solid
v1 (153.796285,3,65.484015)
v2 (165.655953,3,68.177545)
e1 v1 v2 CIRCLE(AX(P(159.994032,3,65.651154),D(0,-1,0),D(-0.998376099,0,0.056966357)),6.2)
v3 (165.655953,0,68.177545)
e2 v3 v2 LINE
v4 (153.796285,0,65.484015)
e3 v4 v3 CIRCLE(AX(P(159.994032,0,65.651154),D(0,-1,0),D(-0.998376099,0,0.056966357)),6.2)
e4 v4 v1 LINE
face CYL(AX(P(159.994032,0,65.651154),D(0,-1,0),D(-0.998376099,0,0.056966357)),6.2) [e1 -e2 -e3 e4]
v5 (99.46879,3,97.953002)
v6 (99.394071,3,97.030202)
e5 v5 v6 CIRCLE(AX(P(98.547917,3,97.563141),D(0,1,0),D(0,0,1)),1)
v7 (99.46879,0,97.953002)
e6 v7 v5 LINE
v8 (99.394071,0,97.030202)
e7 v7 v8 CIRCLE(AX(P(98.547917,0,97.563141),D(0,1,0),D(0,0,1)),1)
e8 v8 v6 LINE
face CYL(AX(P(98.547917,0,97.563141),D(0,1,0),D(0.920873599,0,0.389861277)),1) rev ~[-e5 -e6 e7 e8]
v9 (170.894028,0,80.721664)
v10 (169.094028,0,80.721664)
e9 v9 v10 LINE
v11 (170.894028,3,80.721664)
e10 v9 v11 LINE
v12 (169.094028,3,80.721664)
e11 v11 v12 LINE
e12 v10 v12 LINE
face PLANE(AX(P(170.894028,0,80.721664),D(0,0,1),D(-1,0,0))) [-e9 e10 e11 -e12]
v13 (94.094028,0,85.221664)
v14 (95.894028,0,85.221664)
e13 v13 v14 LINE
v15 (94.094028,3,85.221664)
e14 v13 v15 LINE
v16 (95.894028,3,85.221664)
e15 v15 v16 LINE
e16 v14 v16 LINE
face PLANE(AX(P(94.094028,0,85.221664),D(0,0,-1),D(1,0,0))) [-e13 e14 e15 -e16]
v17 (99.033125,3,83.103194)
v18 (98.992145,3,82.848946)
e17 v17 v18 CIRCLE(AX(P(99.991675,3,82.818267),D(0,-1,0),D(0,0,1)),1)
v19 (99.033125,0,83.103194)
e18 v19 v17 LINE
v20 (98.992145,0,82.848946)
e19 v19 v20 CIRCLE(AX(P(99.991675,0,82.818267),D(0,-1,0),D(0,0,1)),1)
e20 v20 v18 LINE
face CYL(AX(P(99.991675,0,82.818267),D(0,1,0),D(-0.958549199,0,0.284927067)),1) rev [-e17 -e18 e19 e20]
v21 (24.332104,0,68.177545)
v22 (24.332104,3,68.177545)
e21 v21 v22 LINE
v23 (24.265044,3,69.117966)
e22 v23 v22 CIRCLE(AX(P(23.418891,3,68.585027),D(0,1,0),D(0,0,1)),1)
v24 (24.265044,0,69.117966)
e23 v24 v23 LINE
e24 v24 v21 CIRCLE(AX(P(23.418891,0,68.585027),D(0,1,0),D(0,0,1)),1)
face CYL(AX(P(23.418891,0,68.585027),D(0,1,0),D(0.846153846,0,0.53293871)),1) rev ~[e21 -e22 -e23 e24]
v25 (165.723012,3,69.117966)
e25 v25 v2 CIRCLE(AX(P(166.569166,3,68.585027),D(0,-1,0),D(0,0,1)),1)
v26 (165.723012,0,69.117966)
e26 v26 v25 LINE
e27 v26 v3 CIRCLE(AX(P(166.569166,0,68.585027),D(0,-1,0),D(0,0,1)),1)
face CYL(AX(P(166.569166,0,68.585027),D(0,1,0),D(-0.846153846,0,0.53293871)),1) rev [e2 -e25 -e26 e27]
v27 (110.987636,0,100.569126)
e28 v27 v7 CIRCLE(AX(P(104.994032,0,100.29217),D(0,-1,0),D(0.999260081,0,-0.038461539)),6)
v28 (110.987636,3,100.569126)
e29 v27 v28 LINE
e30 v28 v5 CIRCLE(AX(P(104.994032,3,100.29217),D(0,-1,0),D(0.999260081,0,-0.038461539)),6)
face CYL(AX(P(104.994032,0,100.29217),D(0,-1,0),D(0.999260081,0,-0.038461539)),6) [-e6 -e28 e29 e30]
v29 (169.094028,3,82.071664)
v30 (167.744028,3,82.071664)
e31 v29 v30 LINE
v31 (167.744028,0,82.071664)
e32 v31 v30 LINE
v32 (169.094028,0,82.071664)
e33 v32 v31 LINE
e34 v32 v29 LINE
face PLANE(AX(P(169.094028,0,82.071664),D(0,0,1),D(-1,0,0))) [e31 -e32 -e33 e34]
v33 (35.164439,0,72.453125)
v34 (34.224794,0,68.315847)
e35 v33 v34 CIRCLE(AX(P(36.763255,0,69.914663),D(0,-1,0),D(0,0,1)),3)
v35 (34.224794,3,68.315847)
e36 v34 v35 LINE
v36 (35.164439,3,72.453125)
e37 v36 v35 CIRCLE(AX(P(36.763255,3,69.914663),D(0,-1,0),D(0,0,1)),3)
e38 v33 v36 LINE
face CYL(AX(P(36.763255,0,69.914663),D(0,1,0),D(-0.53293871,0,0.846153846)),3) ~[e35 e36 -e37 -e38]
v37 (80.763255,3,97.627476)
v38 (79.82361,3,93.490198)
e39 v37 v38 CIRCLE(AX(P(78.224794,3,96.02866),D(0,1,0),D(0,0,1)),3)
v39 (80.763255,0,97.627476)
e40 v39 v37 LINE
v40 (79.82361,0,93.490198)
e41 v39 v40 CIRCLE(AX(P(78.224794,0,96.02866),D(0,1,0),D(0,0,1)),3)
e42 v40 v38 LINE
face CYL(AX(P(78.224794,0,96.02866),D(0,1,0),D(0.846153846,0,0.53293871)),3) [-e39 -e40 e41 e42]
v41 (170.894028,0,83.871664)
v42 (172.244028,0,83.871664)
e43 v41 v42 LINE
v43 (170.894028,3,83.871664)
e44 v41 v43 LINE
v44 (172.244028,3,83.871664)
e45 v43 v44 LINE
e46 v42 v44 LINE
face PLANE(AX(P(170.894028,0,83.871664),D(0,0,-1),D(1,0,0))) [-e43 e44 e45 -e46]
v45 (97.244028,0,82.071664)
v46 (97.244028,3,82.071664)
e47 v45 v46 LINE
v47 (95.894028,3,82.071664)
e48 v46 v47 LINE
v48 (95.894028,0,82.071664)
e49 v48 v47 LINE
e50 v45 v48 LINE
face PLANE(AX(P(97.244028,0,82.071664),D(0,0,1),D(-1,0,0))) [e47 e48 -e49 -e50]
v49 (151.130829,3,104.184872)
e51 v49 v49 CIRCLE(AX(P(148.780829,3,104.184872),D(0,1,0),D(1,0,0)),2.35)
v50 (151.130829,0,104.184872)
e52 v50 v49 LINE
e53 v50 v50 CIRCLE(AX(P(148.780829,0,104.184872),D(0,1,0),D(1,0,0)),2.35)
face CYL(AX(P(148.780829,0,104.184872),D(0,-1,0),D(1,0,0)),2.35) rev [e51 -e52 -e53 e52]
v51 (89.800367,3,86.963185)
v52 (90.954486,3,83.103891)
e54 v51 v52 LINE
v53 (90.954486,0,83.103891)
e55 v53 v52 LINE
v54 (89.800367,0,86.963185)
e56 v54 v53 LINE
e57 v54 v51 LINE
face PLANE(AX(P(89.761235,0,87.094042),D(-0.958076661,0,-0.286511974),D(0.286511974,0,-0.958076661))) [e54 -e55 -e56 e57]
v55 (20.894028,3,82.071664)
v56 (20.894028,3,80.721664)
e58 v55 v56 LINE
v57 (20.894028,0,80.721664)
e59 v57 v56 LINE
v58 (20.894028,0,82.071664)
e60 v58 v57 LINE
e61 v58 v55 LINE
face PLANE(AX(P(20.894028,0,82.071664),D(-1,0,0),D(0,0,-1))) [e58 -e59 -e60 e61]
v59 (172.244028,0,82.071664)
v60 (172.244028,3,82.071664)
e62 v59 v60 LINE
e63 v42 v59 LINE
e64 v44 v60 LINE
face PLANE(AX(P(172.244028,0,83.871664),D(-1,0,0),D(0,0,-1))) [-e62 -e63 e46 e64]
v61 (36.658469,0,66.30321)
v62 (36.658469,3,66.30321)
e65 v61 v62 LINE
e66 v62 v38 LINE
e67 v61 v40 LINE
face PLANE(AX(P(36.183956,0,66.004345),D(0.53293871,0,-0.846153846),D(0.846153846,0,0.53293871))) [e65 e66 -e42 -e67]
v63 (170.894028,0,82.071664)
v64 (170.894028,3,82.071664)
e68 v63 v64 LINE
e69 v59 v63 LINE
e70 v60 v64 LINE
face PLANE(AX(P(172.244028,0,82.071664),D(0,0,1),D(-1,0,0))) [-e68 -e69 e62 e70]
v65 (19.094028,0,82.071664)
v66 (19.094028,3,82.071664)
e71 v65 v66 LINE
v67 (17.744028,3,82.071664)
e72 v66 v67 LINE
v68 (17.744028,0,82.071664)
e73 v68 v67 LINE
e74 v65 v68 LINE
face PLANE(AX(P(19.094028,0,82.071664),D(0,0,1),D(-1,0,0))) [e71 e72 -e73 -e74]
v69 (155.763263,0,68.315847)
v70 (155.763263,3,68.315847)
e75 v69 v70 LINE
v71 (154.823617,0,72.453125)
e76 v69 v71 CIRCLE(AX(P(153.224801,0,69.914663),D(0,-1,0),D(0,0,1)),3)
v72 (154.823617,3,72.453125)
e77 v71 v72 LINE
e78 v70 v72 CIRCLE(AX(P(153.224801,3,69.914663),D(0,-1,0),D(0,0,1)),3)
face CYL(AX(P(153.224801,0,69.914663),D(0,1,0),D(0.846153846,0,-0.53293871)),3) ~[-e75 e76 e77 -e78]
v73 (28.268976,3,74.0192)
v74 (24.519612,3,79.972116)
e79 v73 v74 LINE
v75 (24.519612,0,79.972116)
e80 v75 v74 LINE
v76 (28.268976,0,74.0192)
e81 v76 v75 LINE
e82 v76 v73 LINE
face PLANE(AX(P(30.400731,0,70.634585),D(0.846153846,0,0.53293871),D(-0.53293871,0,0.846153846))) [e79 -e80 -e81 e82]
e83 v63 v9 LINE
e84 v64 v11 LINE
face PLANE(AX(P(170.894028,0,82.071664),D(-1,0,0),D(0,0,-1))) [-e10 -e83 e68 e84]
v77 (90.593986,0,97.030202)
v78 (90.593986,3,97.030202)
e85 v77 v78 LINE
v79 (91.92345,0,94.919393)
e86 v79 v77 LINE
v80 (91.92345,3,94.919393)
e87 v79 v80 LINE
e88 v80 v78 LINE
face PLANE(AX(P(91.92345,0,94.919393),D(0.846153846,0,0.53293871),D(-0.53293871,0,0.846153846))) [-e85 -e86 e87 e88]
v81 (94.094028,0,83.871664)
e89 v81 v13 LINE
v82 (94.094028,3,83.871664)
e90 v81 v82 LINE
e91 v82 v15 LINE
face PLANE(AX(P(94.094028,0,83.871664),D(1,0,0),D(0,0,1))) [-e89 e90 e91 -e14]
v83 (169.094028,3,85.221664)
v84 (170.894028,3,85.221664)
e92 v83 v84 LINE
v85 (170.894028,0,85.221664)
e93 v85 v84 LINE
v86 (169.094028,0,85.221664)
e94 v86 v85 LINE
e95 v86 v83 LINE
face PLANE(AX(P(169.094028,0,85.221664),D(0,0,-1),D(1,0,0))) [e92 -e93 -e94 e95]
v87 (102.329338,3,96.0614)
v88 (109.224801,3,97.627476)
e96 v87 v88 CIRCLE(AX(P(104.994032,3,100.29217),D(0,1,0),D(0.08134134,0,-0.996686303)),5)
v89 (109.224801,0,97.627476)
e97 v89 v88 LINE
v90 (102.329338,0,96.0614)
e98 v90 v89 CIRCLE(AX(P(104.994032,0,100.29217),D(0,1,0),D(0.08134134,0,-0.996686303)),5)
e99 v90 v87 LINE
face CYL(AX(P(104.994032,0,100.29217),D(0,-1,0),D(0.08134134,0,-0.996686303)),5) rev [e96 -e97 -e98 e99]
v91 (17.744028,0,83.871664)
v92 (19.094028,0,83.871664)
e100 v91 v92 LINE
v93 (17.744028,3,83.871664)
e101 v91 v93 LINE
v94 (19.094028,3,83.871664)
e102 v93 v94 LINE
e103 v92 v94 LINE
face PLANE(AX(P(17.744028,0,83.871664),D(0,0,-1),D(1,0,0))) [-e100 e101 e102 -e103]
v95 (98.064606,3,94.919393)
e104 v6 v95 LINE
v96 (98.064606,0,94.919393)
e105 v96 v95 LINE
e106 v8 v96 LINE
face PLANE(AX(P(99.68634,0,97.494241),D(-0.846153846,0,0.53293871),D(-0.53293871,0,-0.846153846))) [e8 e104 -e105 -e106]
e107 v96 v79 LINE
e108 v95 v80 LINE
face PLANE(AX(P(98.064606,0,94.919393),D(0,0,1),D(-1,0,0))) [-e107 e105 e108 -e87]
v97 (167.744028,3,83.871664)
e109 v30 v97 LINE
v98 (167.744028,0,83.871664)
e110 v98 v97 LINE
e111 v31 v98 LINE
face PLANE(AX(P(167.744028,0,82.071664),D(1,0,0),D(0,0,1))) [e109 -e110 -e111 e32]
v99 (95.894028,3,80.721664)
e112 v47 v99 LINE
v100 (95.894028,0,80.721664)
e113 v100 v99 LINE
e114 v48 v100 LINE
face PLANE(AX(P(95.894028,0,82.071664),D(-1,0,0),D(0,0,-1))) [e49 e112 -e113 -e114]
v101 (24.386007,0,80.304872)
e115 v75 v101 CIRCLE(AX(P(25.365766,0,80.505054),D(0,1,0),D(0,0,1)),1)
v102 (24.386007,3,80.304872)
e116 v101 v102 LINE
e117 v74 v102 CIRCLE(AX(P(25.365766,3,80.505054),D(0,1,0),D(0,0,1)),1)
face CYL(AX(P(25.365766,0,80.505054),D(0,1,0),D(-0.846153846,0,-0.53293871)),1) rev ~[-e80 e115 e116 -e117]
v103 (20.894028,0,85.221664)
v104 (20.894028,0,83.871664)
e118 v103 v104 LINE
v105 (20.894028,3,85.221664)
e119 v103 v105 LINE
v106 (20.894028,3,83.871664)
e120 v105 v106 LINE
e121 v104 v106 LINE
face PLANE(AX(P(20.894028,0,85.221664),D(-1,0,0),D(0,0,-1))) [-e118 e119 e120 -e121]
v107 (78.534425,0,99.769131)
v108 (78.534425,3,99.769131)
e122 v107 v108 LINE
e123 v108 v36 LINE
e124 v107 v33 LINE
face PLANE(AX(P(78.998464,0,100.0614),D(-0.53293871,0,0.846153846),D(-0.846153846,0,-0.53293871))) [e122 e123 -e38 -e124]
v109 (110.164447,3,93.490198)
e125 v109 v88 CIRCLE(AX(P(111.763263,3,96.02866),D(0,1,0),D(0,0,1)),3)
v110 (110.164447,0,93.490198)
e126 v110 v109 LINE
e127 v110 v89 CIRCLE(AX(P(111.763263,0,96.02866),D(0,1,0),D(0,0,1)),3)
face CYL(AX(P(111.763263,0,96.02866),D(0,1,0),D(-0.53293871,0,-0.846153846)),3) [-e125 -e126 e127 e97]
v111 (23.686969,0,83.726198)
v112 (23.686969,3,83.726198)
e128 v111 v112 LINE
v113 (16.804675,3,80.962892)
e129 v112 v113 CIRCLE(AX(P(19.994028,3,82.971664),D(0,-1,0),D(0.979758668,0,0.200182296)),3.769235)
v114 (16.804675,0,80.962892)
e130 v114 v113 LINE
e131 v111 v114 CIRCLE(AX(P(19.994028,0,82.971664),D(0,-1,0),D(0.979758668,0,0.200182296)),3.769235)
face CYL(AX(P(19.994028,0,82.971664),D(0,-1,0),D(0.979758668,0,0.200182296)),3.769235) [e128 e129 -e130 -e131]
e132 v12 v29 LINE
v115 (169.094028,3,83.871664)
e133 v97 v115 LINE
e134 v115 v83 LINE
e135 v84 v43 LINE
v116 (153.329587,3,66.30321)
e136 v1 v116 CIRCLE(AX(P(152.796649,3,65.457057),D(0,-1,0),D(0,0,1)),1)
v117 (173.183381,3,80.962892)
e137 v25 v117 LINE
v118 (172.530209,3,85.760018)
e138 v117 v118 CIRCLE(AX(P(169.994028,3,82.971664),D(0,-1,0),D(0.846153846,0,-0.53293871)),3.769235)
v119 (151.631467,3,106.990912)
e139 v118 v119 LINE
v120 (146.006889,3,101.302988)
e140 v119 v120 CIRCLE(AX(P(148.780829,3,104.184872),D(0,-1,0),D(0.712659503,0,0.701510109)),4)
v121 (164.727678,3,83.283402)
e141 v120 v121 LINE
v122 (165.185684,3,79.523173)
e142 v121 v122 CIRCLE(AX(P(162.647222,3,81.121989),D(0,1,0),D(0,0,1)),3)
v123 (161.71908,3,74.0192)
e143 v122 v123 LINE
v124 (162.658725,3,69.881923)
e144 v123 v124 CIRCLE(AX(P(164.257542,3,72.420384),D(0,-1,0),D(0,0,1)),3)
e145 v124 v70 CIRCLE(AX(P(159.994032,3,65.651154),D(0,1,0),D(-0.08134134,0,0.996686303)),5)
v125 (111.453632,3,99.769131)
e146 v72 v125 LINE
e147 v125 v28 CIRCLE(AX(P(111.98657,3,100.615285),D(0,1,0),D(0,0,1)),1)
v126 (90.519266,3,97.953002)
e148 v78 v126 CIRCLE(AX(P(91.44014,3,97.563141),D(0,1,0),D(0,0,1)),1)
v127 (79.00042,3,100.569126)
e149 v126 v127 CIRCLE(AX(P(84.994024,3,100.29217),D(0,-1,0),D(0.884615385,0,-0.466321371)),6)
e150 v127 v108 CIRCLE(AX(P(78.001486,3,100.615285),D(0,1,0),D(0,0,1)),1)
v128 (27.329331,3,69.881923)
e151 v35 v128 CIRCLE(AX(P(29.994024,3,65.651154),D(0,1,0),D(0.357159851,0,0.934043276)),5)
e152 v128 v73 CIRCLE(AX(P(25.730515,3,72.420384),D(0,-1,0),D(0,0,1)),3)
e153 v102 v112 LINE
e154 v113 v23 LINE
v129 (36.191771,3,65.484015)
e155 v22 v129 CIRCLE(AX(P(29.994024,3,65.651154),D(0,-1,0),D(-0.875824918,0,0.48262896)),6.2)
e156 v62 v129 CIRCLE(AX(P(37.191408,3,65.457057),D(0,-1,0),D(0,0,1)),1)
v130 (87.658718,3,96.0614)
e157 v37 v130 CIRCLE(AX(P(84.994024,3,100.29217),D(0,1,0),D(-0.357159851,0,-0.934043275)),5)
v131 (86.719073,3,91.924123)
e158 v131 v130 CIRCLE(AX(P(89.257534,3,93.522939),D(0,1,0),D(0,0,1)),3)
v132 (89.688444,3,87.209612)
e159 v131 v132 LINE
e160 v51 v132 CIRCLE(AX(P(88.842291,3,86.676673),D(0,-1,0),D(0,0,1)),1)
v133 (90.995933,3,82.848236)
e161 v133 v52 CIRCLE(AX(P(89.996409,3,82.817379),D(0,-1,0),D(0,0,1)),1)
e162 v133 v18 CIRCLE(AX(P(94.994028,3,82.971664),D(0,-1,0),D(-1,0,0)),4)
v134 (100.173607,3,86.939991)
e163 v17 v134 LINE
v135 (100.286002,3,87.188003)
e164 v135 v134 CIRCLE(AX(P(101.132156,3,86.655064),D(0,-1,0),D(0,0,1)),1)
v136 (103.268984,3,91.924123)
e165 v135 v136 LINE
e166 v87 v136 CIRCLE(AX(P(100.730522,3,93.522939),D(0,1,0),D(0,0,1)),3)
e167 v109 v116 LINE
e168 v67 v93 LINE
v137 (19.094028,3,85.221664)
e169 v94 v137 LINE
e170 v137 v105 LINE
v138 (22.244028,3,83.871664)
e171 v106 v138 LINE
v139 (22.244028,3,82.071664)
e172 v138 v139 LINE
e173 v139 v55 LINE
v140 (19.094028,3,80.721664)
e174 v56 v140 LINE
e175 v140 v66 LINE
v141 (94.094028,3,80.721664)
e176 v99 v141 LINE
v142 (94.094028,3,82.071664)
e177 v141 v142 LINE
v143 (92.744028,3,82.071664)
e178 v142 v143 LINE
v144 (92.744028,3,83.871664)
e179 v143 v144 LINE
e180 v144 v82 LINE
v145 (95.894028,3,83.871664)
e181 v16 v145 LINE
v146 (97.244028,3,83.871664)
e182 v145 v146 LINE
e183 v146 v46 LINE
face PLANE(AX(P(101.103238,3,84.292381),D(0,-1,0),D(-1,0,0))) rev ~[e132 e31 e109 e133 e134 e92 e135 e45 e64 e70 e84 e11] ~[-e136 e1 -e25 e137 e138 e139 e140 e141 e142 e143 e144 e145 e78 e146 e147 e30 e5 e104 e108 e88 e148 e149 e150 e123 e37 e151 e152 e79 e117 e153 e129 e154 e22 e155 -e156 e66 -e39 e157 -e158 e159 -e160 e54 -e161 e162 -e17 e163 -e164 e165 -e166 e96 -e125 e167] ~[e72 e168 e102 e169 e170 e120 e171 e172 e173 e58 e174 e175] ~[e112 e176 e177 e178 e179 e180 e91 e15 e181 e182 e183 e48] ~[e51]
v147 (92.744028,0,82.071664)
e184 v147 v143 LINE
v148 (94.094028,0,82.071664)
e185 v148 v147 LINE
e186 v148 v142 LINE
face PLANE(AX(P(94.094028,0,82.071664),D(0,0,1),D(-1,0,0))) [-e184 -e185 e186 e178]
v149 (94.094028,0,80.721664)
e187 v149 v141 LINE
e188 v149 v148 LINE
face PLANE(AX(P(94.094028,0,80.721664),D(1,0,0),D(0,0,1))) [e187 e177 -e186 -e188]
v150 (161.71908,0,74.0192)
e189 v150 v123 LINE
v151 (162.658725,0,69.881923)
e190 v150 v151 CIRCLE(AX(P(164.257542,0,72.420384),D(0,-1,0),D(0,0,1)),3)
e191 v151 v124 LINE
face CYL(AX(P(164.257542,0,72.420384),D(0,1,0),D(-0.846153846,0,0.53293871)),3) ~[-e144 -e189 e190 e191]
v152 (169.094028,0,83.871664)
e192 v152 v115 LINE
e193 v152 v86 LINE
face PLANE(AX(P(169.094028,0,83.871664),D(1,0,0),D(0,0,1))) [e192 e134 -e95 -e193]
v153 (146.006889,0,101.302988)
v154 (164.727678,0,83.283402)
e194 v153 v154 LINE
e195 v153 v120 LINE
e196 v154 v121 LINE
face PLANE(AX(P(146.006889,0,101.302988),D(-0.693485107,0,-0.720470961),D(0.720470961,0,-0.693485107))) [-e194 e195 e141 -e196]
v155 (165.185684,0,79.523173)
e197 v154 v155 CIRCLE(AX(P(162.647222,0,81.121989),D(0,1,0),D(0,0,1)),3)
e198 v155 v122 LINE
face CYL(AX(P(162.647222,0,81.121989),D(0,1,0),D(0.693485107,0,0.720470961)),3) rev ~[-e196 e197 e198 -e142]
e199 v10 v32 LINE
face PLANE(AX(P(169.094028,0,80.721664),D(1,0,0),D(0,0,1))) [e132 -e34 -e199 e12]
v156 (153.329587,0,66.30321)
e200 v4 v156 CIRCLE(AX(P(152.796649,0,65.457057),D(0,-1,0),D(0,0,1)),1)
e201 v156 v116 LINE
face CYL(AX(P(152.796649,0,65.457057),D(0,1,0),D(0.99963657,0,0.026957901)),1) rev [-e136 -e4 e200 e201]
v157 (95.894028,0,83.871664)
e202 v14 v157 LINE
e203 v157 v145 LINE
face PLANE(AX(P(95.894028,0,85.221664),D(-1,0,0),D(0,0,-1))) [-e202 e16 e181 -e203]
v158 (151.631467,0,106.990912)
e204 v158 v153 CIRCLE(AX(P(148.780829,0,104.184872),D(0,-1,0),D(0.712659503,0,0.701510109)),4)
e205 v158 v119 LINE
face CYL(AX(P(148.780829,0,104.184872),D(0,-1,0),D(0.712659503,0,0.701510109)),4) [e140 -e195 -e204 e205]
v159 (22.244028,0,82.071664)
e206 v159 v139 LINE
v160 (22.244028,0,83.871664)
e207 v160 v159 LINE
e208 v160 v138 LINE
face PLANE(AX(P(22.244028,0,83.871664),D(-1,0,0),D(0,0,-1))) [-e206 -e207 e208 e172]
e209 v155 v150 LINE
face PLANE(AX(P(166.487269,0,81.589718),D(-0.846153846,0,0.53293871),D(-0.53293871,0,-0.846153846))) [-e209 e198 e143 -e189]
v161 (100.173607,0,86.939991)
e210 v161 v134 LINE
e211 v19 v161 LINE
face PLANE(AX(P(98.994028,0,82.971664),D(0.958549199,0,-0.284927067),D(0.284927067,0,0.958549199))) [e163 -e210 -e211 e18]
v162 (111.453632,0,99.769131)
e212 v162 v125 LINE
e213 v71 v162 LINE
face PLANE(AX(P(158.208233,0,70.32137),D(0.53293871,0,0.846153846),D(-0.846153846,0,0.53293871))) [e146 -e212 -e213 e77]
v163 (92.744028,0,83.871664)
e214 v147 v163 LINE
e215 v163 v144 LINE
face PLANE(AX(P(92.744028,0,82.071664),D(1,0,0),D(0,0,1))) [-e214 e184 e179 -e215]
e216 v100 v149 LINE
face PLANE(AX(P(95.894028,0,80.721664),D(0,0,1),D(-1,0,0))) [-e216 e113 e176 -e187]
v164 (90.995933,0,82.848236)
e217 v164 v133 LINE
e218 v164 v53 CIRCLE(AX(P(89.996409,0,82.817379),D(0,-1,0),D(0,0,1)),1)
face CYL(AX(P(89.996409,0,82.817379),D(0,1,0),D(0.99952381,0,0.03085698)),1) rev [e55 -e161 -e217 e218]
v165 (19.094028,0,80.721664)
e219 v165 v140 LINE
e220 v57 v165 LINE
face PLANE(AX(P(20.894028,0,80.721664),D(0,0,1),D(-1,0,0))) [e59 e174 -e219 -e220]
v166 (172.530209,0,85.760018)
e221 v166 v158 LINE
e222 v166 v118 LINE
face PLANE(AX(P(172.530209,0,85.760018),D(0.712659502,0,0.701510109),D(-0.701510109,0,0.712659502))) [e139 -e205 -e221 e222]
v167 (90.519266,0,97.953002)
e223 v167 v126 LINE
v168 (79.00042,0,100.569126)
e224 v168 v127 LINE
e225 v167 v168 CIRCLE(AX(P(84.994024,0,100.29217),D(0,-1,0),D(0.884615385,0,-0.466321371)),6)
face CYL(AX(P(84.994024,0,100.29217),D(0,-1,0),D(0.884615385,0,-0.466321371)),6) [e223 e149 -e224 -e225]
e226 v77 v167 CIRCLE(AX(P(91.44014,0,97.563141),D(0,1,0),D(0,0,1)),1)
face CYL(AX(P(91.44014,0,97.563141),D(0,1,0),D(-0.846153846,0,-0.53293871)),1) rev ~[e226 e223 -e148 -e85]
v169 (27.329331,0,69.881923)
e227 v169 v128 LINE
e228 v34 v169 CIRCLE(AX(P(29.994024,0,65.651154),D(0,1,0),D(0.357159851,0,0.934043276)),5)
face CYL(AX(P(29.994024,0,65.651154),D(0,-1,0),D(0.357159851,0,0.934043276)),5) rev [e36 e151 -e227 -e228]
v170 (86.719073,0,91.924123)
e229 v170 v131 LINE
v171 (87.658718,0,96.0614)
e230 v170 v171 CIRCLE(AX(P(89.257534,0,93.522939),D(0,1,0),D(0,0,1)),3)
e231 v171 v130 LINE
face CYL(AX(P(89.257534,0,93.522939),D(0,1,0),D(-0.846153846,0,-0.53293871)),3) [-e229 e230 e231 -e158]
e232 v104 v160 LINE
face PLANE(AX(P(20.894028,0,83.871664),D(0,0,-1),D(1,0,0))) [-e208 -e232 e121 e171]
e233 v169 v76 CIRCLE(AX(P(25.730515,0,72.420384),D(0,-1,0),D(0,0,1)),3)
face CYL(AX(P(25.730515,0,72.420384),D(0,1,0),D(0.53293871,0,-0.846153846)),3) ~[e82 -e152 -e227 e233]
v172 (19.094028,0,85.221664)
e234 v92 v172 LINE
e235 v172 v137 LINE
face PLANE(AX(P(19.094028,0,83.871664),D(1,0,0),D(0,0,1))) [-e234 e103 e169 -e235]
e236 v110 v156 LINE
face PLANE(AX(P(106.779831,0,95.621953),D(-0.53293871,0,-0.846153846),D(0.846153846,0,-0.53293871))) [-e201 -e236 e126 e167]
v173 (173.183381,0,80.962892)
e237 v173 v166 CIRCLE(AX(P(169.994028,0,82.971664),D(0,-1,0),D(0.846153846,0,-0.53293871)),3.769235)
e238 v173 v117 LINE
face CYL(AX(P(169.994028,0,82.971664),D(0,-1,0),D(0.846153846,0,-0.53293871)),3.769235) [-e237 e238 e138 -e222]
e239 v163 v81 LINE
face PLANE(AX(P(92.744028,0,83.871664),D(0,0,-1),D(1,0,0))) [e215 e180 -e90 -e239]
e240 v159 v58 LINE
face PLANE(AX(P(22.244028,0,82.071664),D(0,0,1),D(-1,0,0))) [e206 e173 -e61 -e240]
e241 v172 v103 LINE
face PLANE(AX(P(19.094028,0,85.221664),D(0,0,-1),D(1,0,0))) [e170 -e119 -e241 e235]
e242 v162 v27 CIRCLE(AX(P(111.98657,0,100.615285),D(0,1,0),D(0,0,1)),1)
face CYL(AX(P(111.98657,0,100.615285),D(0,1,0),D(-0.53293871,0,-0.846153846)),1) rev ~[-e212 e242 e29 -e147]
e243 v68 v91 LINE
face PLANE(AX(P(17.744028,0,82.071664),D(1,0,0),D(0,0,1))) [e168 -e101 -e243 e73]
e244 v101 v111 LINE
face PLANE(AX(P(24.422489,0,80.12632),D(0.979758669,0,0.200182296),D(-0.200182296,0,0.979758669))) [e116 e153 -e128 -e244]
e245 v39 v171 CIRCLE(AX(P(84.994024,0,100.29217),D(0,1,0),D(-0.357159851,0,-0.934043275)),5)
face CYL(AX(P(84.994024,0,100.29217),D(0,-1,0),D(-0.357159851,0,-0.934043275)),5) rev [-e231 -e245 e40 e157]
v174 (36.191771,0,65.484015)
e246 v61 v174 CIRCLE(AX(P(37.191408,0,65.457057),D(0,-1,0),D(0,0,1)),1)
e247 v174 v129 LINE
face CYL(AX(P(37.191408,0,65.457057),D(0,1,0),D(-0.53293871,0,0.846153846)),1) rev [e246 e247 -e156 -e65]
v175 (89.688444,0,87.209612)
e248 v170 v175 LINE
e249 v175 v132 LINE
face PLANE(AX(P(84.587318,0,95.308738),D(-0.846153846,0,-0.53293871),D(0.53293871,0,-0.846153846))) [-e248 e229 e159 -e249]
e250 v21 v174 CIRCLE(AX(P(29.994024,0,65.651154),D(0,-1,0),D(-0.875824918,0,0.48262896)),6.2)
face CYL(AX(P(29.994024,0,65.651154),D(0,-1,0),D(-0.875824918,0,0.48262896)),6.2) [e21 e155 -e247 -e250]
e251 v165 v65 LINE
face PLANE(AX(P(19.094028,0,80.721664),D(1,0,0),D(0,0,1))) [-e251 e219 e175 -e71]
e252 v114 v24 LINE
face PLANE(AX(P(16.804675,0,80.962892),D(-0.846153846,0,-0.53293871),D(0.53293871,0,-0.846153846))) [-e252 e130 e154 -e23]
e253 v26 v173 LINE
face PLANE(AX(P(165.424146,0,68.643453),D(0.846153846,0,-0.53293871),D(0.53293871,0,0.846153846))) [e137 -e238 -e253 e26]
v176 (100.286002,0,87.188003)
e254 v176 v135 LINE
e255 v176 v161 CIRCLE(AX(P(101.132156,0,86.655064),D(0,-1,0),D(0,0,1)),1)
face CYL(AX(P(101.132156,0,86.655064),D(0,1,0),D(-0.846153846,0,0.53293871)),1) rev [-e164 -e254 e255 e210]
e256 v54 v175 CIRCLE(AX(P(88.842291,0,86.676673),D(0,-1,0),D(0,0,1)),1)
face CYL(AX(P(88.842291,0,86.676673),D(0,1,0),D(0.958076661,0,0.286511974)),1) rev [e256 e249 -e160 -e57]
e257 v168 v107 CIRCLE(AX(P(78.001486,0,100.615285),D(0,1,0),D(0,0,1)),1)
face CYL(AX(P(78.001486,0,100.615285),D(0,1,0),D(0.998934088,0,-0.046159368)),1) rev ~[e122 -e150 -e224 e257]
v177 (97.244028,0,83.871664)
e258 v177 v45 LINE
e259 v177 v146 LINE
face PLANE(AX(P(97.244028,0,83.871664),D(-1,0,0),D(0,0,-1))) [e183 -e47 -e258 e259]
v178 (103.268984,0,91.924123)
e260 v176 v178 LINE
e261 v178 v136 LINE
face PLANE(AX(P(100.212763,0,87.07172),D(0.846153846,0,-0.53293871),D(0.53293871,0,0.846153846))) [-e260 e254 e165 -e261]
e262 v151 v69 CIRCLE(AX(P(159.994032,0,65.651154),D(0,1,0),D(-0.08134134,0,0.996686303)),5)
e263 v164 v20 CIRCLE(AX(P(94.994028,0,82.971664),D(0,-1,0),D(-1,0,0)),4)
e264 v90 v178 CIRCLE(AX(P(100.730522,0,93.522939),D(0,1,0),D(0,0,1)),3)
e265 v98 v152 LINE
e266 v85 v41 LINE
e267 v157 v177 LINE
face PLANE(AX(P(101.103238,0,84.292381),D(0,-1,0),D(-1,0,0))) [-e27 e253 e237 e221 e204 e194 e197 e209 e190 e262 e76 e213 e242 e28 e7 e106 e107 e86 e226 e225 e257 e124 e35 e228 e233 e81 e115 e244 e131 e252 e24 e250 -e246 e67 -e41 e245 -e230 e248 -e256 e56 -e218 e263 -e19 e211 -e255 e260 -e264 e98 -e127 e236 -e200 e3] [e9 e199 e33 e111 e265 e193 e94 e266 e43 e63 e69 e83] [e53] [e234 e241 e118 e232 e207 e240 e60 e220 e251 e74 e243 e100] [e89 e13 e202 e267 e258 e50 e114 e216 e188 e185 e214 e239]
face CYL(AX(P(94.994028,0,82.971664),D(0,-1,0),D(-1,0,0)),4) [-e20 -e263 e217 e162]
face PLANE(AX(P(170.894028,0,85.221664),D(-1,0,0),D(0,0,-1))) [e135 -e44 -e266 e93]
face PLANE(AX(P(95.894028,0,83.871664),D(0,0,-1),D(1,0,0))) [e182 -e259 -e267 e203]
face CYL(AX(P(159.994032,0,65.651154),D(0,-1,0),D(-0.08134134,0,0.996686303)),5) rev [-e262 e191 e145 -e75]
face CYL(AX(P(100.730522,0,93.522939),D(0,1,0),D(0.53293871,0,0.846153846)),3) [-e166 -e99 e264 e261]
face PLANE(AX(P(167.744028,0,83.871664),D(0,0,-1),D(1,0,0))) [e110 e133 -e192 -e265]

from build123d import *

# Parameters (mm, degrees)
SKETCH1_R           = 2.35
BOSS_EXTRUDE1_DEPTH = 3
FILLET1_R           = 3
FILLET2_R           = 1


with BuildPart() as part:
    # Sketch1 → Boss-Extrude1 (new body)
    with BuildSketch(Plane(origin=(0, 0, 0), x_dir=(1, 0, 0), z_dir=(0, 1, 0))):
        with BuildLine():
            Line((172.530209002, -85.760018057), (151.631467282, -106.990912204))
            ThreePointArc((151.631467282, -106.990912204), (145.936608589, -106.997416648), (146.006888843, -101.302987922))
            Line((146.006888843, -101.302987922), (166.487269252, -81.589717624))
            Line((166.487269252, -81.589717624), (159.587325171, -70.634585049))
            ThreePointArc((159.587325171, -70.634585049), (161.101414603, -60.775325043), (158.208232615, -70.321369913))
            Line((158.208232615, -70.321369913), (110.989592357, -100.061400455))
            ThreePointArc((110.989592357, -100.061400455), (103.665172589, -106.143163876), (99.686339562, -97.494241459))
            Line((99.686339562, -97.494241459), (98.064605927, -94.919393494))
            Line((98.064605927, -94.919393494), (91.923450353, -94.919393494))
            Line((91.923450353, -94.919393494), (90.301716718, -97.494241459))
            ThreePointArc((90.301716718, -97.494241459), (86.322883691, -106.143163876), (78.998463923, -100.061400455))
            Line((78.998463923, -100.061400455), (31.779823665, -70.321369913))
            ThreePointArc((31.779823665, -70.321369913), (28.886641677, -60.775325043), (30.400731109, -70.634585049))
            Line((30.400731109, -70.634585049), (24.422488643, -80.126319765))
            Line((24.422488643, -80.126319765), (23.686968876, -83.726197894))
            ThreePointArc((23.686968876, -83.726197894), (18.589619222, -86.469487176), (16.804675386, -80.962892486))
            Line((16.804675386, -80.962892486), (24.563909918, -68.643453086))
            ThreePointArc((24.563909918, -68.643453086), (28.620869821, -59.605126205), (36.183956221, -66.00434495))
            Line((36.183956221, -66.00434495), (83.208225156, -95.621953308))
            ThreePointArc((83.208225156, -95.621953308), (86.101407144, -105.167998178), (84.587317712, -95.308738171))
            Line((84.587317712, -95.308738171), (89.761234685, -87.094041689))
            Line((89.761234685, -87.094041689), (90.99402814, -82.971663764))
            ThreePointArc((90.99402814, -82.971663764), (94.99402814, -78.971663764), (98.99402814, -82.971663764))
            Line((98.99402814, -82.971663764), (100.212762732, -87.071720247))
            Line((100.212762732, -87.071720247), (105.400738568, -95.308738171))
            ThreePointArc((105.400738568, -95.308738171), (103.886649136, -105.167998178), (106.779831124, -95.621953308))
            Line((106.779831124, -95.621953308), (153.804100058, -66.00434495))
            ThreePointArc((153.804100058, -66.00434495), (161.367186459, -59.605126205), (165.424146361, -68.643453086))
            Line((165.424146361, -68.643453086), (173.183380893, -80.962892486))
            ThreePointArc((173.183380893, -80.962892486), (173.728802193, -83.480186919), (172.530209002, -85.760018057))
        make_face()
        with Locations((148.780829272, -104.184871767)):
            Circle(SKETCH1_R, mode=Mode.SUBTRACT)
        Polygon((167.74402814, -82.071663764), (167.74402814, -83.871663764), (169.09402814, -83.871663764), (169.09402814, -85.221663764), (170.89402814, -85.221663764), (170.89402814, -83.871663764), (172.24402814, -83.871663764), (172.24402814, -82.071663764), (170.89402814, -82.071663764), (170.89402814, -80.721663764), (169.09402814, -80.721663764), (169.09402814, -82.071663764), align=None, mode=Mode.SUBTRACT)
        Polygon((92.74402814, -82.071663764), (92.74402814, -83.871663764), (94.09402814, -83.871663764), (94.09402814, -85.221663764), (95.89402814, -85.221663764), (95.89402814, -83.871663764), (97.24402814, -83.871663764), (97.24402814, -82.071663764), (95.89402814, -82.071663764), (95.89402814, -80.721663764), (94.09402814, -80.721663764), (94.09402814, -82.071663764), align=None, mode=Mode.SUBTRACT)
        Polygon((17.74402814, -82.071663764), (17.74402814, -83.871663764), (19.09402814, -83.871663764), (19.09402814, -85.221663764), (20.89402814, -85.221663764), (20.89402814, -83.871663764), (22.24402814, -83.871663764), (22.24402814, -82.071663764), (20.89402814, -82.071663764), (20.89402814, -80.721663764), (19.09402814, -80.721663764), (19.09402814, -82.071663764), align=None, mode=Mode.SUBTRACT)
    extrude(amount=BOSS_EXTRUDE1_DEPTH)

    # Fillet1
    fillet1_edges = [part.edges().sort_by_distance(p)[0] for p in [
        (166.487269252, 1.5, 81.589717624),
        (159.587325171, 1.5, 70.634585049),
        (158.208232615, 1.5, 70.321369913),
        (31.779823665, 1.5, 70.321369913),
        (30.400731109, 1.5, 70.634585049),
        (83.208225156, 1.5, 95.621953308),
        (84.587317712, 1.5, 95.308738171),
        (105.400738568, 1.5, 95.308738171),
        (106.779831124, 1.5, 95.621953308),
    ]]
    fillet(fillet1_edges, radius=FILLET1_R)

    # Fillet2
    fillet2_edges = [part.edges().sort_by_distance(p)[0] for p in [
        (110.989592357, 1.5, 100.061400455),
        (99.686339562, 1.5, 97.494241459),
        (90.301716718, 1.5, 97.494241459),
        (78.998463923, 1.5, 100.061400455),
        (24.422488643, 1.5, 80.126319765),
        (24.563909918, 1.5, 68.643453086),
        (36.183956221, 1.5, 66.00434495),
        (89.761234685, 1.5, 87.094041689),
        (90.99402814, 1.5, 82.971663764),
        (98.99402814, 1.5, 82.971663764),
        (100.212762732, 1.5, 87.071720247),
        (153.804100058, 1.5, 66.00434495),
        (165.424146361, 1.5, 68.643453086),
    ]]
    fillet(fillet2_edges, radius=FILLET2_R)


solid = part.part
